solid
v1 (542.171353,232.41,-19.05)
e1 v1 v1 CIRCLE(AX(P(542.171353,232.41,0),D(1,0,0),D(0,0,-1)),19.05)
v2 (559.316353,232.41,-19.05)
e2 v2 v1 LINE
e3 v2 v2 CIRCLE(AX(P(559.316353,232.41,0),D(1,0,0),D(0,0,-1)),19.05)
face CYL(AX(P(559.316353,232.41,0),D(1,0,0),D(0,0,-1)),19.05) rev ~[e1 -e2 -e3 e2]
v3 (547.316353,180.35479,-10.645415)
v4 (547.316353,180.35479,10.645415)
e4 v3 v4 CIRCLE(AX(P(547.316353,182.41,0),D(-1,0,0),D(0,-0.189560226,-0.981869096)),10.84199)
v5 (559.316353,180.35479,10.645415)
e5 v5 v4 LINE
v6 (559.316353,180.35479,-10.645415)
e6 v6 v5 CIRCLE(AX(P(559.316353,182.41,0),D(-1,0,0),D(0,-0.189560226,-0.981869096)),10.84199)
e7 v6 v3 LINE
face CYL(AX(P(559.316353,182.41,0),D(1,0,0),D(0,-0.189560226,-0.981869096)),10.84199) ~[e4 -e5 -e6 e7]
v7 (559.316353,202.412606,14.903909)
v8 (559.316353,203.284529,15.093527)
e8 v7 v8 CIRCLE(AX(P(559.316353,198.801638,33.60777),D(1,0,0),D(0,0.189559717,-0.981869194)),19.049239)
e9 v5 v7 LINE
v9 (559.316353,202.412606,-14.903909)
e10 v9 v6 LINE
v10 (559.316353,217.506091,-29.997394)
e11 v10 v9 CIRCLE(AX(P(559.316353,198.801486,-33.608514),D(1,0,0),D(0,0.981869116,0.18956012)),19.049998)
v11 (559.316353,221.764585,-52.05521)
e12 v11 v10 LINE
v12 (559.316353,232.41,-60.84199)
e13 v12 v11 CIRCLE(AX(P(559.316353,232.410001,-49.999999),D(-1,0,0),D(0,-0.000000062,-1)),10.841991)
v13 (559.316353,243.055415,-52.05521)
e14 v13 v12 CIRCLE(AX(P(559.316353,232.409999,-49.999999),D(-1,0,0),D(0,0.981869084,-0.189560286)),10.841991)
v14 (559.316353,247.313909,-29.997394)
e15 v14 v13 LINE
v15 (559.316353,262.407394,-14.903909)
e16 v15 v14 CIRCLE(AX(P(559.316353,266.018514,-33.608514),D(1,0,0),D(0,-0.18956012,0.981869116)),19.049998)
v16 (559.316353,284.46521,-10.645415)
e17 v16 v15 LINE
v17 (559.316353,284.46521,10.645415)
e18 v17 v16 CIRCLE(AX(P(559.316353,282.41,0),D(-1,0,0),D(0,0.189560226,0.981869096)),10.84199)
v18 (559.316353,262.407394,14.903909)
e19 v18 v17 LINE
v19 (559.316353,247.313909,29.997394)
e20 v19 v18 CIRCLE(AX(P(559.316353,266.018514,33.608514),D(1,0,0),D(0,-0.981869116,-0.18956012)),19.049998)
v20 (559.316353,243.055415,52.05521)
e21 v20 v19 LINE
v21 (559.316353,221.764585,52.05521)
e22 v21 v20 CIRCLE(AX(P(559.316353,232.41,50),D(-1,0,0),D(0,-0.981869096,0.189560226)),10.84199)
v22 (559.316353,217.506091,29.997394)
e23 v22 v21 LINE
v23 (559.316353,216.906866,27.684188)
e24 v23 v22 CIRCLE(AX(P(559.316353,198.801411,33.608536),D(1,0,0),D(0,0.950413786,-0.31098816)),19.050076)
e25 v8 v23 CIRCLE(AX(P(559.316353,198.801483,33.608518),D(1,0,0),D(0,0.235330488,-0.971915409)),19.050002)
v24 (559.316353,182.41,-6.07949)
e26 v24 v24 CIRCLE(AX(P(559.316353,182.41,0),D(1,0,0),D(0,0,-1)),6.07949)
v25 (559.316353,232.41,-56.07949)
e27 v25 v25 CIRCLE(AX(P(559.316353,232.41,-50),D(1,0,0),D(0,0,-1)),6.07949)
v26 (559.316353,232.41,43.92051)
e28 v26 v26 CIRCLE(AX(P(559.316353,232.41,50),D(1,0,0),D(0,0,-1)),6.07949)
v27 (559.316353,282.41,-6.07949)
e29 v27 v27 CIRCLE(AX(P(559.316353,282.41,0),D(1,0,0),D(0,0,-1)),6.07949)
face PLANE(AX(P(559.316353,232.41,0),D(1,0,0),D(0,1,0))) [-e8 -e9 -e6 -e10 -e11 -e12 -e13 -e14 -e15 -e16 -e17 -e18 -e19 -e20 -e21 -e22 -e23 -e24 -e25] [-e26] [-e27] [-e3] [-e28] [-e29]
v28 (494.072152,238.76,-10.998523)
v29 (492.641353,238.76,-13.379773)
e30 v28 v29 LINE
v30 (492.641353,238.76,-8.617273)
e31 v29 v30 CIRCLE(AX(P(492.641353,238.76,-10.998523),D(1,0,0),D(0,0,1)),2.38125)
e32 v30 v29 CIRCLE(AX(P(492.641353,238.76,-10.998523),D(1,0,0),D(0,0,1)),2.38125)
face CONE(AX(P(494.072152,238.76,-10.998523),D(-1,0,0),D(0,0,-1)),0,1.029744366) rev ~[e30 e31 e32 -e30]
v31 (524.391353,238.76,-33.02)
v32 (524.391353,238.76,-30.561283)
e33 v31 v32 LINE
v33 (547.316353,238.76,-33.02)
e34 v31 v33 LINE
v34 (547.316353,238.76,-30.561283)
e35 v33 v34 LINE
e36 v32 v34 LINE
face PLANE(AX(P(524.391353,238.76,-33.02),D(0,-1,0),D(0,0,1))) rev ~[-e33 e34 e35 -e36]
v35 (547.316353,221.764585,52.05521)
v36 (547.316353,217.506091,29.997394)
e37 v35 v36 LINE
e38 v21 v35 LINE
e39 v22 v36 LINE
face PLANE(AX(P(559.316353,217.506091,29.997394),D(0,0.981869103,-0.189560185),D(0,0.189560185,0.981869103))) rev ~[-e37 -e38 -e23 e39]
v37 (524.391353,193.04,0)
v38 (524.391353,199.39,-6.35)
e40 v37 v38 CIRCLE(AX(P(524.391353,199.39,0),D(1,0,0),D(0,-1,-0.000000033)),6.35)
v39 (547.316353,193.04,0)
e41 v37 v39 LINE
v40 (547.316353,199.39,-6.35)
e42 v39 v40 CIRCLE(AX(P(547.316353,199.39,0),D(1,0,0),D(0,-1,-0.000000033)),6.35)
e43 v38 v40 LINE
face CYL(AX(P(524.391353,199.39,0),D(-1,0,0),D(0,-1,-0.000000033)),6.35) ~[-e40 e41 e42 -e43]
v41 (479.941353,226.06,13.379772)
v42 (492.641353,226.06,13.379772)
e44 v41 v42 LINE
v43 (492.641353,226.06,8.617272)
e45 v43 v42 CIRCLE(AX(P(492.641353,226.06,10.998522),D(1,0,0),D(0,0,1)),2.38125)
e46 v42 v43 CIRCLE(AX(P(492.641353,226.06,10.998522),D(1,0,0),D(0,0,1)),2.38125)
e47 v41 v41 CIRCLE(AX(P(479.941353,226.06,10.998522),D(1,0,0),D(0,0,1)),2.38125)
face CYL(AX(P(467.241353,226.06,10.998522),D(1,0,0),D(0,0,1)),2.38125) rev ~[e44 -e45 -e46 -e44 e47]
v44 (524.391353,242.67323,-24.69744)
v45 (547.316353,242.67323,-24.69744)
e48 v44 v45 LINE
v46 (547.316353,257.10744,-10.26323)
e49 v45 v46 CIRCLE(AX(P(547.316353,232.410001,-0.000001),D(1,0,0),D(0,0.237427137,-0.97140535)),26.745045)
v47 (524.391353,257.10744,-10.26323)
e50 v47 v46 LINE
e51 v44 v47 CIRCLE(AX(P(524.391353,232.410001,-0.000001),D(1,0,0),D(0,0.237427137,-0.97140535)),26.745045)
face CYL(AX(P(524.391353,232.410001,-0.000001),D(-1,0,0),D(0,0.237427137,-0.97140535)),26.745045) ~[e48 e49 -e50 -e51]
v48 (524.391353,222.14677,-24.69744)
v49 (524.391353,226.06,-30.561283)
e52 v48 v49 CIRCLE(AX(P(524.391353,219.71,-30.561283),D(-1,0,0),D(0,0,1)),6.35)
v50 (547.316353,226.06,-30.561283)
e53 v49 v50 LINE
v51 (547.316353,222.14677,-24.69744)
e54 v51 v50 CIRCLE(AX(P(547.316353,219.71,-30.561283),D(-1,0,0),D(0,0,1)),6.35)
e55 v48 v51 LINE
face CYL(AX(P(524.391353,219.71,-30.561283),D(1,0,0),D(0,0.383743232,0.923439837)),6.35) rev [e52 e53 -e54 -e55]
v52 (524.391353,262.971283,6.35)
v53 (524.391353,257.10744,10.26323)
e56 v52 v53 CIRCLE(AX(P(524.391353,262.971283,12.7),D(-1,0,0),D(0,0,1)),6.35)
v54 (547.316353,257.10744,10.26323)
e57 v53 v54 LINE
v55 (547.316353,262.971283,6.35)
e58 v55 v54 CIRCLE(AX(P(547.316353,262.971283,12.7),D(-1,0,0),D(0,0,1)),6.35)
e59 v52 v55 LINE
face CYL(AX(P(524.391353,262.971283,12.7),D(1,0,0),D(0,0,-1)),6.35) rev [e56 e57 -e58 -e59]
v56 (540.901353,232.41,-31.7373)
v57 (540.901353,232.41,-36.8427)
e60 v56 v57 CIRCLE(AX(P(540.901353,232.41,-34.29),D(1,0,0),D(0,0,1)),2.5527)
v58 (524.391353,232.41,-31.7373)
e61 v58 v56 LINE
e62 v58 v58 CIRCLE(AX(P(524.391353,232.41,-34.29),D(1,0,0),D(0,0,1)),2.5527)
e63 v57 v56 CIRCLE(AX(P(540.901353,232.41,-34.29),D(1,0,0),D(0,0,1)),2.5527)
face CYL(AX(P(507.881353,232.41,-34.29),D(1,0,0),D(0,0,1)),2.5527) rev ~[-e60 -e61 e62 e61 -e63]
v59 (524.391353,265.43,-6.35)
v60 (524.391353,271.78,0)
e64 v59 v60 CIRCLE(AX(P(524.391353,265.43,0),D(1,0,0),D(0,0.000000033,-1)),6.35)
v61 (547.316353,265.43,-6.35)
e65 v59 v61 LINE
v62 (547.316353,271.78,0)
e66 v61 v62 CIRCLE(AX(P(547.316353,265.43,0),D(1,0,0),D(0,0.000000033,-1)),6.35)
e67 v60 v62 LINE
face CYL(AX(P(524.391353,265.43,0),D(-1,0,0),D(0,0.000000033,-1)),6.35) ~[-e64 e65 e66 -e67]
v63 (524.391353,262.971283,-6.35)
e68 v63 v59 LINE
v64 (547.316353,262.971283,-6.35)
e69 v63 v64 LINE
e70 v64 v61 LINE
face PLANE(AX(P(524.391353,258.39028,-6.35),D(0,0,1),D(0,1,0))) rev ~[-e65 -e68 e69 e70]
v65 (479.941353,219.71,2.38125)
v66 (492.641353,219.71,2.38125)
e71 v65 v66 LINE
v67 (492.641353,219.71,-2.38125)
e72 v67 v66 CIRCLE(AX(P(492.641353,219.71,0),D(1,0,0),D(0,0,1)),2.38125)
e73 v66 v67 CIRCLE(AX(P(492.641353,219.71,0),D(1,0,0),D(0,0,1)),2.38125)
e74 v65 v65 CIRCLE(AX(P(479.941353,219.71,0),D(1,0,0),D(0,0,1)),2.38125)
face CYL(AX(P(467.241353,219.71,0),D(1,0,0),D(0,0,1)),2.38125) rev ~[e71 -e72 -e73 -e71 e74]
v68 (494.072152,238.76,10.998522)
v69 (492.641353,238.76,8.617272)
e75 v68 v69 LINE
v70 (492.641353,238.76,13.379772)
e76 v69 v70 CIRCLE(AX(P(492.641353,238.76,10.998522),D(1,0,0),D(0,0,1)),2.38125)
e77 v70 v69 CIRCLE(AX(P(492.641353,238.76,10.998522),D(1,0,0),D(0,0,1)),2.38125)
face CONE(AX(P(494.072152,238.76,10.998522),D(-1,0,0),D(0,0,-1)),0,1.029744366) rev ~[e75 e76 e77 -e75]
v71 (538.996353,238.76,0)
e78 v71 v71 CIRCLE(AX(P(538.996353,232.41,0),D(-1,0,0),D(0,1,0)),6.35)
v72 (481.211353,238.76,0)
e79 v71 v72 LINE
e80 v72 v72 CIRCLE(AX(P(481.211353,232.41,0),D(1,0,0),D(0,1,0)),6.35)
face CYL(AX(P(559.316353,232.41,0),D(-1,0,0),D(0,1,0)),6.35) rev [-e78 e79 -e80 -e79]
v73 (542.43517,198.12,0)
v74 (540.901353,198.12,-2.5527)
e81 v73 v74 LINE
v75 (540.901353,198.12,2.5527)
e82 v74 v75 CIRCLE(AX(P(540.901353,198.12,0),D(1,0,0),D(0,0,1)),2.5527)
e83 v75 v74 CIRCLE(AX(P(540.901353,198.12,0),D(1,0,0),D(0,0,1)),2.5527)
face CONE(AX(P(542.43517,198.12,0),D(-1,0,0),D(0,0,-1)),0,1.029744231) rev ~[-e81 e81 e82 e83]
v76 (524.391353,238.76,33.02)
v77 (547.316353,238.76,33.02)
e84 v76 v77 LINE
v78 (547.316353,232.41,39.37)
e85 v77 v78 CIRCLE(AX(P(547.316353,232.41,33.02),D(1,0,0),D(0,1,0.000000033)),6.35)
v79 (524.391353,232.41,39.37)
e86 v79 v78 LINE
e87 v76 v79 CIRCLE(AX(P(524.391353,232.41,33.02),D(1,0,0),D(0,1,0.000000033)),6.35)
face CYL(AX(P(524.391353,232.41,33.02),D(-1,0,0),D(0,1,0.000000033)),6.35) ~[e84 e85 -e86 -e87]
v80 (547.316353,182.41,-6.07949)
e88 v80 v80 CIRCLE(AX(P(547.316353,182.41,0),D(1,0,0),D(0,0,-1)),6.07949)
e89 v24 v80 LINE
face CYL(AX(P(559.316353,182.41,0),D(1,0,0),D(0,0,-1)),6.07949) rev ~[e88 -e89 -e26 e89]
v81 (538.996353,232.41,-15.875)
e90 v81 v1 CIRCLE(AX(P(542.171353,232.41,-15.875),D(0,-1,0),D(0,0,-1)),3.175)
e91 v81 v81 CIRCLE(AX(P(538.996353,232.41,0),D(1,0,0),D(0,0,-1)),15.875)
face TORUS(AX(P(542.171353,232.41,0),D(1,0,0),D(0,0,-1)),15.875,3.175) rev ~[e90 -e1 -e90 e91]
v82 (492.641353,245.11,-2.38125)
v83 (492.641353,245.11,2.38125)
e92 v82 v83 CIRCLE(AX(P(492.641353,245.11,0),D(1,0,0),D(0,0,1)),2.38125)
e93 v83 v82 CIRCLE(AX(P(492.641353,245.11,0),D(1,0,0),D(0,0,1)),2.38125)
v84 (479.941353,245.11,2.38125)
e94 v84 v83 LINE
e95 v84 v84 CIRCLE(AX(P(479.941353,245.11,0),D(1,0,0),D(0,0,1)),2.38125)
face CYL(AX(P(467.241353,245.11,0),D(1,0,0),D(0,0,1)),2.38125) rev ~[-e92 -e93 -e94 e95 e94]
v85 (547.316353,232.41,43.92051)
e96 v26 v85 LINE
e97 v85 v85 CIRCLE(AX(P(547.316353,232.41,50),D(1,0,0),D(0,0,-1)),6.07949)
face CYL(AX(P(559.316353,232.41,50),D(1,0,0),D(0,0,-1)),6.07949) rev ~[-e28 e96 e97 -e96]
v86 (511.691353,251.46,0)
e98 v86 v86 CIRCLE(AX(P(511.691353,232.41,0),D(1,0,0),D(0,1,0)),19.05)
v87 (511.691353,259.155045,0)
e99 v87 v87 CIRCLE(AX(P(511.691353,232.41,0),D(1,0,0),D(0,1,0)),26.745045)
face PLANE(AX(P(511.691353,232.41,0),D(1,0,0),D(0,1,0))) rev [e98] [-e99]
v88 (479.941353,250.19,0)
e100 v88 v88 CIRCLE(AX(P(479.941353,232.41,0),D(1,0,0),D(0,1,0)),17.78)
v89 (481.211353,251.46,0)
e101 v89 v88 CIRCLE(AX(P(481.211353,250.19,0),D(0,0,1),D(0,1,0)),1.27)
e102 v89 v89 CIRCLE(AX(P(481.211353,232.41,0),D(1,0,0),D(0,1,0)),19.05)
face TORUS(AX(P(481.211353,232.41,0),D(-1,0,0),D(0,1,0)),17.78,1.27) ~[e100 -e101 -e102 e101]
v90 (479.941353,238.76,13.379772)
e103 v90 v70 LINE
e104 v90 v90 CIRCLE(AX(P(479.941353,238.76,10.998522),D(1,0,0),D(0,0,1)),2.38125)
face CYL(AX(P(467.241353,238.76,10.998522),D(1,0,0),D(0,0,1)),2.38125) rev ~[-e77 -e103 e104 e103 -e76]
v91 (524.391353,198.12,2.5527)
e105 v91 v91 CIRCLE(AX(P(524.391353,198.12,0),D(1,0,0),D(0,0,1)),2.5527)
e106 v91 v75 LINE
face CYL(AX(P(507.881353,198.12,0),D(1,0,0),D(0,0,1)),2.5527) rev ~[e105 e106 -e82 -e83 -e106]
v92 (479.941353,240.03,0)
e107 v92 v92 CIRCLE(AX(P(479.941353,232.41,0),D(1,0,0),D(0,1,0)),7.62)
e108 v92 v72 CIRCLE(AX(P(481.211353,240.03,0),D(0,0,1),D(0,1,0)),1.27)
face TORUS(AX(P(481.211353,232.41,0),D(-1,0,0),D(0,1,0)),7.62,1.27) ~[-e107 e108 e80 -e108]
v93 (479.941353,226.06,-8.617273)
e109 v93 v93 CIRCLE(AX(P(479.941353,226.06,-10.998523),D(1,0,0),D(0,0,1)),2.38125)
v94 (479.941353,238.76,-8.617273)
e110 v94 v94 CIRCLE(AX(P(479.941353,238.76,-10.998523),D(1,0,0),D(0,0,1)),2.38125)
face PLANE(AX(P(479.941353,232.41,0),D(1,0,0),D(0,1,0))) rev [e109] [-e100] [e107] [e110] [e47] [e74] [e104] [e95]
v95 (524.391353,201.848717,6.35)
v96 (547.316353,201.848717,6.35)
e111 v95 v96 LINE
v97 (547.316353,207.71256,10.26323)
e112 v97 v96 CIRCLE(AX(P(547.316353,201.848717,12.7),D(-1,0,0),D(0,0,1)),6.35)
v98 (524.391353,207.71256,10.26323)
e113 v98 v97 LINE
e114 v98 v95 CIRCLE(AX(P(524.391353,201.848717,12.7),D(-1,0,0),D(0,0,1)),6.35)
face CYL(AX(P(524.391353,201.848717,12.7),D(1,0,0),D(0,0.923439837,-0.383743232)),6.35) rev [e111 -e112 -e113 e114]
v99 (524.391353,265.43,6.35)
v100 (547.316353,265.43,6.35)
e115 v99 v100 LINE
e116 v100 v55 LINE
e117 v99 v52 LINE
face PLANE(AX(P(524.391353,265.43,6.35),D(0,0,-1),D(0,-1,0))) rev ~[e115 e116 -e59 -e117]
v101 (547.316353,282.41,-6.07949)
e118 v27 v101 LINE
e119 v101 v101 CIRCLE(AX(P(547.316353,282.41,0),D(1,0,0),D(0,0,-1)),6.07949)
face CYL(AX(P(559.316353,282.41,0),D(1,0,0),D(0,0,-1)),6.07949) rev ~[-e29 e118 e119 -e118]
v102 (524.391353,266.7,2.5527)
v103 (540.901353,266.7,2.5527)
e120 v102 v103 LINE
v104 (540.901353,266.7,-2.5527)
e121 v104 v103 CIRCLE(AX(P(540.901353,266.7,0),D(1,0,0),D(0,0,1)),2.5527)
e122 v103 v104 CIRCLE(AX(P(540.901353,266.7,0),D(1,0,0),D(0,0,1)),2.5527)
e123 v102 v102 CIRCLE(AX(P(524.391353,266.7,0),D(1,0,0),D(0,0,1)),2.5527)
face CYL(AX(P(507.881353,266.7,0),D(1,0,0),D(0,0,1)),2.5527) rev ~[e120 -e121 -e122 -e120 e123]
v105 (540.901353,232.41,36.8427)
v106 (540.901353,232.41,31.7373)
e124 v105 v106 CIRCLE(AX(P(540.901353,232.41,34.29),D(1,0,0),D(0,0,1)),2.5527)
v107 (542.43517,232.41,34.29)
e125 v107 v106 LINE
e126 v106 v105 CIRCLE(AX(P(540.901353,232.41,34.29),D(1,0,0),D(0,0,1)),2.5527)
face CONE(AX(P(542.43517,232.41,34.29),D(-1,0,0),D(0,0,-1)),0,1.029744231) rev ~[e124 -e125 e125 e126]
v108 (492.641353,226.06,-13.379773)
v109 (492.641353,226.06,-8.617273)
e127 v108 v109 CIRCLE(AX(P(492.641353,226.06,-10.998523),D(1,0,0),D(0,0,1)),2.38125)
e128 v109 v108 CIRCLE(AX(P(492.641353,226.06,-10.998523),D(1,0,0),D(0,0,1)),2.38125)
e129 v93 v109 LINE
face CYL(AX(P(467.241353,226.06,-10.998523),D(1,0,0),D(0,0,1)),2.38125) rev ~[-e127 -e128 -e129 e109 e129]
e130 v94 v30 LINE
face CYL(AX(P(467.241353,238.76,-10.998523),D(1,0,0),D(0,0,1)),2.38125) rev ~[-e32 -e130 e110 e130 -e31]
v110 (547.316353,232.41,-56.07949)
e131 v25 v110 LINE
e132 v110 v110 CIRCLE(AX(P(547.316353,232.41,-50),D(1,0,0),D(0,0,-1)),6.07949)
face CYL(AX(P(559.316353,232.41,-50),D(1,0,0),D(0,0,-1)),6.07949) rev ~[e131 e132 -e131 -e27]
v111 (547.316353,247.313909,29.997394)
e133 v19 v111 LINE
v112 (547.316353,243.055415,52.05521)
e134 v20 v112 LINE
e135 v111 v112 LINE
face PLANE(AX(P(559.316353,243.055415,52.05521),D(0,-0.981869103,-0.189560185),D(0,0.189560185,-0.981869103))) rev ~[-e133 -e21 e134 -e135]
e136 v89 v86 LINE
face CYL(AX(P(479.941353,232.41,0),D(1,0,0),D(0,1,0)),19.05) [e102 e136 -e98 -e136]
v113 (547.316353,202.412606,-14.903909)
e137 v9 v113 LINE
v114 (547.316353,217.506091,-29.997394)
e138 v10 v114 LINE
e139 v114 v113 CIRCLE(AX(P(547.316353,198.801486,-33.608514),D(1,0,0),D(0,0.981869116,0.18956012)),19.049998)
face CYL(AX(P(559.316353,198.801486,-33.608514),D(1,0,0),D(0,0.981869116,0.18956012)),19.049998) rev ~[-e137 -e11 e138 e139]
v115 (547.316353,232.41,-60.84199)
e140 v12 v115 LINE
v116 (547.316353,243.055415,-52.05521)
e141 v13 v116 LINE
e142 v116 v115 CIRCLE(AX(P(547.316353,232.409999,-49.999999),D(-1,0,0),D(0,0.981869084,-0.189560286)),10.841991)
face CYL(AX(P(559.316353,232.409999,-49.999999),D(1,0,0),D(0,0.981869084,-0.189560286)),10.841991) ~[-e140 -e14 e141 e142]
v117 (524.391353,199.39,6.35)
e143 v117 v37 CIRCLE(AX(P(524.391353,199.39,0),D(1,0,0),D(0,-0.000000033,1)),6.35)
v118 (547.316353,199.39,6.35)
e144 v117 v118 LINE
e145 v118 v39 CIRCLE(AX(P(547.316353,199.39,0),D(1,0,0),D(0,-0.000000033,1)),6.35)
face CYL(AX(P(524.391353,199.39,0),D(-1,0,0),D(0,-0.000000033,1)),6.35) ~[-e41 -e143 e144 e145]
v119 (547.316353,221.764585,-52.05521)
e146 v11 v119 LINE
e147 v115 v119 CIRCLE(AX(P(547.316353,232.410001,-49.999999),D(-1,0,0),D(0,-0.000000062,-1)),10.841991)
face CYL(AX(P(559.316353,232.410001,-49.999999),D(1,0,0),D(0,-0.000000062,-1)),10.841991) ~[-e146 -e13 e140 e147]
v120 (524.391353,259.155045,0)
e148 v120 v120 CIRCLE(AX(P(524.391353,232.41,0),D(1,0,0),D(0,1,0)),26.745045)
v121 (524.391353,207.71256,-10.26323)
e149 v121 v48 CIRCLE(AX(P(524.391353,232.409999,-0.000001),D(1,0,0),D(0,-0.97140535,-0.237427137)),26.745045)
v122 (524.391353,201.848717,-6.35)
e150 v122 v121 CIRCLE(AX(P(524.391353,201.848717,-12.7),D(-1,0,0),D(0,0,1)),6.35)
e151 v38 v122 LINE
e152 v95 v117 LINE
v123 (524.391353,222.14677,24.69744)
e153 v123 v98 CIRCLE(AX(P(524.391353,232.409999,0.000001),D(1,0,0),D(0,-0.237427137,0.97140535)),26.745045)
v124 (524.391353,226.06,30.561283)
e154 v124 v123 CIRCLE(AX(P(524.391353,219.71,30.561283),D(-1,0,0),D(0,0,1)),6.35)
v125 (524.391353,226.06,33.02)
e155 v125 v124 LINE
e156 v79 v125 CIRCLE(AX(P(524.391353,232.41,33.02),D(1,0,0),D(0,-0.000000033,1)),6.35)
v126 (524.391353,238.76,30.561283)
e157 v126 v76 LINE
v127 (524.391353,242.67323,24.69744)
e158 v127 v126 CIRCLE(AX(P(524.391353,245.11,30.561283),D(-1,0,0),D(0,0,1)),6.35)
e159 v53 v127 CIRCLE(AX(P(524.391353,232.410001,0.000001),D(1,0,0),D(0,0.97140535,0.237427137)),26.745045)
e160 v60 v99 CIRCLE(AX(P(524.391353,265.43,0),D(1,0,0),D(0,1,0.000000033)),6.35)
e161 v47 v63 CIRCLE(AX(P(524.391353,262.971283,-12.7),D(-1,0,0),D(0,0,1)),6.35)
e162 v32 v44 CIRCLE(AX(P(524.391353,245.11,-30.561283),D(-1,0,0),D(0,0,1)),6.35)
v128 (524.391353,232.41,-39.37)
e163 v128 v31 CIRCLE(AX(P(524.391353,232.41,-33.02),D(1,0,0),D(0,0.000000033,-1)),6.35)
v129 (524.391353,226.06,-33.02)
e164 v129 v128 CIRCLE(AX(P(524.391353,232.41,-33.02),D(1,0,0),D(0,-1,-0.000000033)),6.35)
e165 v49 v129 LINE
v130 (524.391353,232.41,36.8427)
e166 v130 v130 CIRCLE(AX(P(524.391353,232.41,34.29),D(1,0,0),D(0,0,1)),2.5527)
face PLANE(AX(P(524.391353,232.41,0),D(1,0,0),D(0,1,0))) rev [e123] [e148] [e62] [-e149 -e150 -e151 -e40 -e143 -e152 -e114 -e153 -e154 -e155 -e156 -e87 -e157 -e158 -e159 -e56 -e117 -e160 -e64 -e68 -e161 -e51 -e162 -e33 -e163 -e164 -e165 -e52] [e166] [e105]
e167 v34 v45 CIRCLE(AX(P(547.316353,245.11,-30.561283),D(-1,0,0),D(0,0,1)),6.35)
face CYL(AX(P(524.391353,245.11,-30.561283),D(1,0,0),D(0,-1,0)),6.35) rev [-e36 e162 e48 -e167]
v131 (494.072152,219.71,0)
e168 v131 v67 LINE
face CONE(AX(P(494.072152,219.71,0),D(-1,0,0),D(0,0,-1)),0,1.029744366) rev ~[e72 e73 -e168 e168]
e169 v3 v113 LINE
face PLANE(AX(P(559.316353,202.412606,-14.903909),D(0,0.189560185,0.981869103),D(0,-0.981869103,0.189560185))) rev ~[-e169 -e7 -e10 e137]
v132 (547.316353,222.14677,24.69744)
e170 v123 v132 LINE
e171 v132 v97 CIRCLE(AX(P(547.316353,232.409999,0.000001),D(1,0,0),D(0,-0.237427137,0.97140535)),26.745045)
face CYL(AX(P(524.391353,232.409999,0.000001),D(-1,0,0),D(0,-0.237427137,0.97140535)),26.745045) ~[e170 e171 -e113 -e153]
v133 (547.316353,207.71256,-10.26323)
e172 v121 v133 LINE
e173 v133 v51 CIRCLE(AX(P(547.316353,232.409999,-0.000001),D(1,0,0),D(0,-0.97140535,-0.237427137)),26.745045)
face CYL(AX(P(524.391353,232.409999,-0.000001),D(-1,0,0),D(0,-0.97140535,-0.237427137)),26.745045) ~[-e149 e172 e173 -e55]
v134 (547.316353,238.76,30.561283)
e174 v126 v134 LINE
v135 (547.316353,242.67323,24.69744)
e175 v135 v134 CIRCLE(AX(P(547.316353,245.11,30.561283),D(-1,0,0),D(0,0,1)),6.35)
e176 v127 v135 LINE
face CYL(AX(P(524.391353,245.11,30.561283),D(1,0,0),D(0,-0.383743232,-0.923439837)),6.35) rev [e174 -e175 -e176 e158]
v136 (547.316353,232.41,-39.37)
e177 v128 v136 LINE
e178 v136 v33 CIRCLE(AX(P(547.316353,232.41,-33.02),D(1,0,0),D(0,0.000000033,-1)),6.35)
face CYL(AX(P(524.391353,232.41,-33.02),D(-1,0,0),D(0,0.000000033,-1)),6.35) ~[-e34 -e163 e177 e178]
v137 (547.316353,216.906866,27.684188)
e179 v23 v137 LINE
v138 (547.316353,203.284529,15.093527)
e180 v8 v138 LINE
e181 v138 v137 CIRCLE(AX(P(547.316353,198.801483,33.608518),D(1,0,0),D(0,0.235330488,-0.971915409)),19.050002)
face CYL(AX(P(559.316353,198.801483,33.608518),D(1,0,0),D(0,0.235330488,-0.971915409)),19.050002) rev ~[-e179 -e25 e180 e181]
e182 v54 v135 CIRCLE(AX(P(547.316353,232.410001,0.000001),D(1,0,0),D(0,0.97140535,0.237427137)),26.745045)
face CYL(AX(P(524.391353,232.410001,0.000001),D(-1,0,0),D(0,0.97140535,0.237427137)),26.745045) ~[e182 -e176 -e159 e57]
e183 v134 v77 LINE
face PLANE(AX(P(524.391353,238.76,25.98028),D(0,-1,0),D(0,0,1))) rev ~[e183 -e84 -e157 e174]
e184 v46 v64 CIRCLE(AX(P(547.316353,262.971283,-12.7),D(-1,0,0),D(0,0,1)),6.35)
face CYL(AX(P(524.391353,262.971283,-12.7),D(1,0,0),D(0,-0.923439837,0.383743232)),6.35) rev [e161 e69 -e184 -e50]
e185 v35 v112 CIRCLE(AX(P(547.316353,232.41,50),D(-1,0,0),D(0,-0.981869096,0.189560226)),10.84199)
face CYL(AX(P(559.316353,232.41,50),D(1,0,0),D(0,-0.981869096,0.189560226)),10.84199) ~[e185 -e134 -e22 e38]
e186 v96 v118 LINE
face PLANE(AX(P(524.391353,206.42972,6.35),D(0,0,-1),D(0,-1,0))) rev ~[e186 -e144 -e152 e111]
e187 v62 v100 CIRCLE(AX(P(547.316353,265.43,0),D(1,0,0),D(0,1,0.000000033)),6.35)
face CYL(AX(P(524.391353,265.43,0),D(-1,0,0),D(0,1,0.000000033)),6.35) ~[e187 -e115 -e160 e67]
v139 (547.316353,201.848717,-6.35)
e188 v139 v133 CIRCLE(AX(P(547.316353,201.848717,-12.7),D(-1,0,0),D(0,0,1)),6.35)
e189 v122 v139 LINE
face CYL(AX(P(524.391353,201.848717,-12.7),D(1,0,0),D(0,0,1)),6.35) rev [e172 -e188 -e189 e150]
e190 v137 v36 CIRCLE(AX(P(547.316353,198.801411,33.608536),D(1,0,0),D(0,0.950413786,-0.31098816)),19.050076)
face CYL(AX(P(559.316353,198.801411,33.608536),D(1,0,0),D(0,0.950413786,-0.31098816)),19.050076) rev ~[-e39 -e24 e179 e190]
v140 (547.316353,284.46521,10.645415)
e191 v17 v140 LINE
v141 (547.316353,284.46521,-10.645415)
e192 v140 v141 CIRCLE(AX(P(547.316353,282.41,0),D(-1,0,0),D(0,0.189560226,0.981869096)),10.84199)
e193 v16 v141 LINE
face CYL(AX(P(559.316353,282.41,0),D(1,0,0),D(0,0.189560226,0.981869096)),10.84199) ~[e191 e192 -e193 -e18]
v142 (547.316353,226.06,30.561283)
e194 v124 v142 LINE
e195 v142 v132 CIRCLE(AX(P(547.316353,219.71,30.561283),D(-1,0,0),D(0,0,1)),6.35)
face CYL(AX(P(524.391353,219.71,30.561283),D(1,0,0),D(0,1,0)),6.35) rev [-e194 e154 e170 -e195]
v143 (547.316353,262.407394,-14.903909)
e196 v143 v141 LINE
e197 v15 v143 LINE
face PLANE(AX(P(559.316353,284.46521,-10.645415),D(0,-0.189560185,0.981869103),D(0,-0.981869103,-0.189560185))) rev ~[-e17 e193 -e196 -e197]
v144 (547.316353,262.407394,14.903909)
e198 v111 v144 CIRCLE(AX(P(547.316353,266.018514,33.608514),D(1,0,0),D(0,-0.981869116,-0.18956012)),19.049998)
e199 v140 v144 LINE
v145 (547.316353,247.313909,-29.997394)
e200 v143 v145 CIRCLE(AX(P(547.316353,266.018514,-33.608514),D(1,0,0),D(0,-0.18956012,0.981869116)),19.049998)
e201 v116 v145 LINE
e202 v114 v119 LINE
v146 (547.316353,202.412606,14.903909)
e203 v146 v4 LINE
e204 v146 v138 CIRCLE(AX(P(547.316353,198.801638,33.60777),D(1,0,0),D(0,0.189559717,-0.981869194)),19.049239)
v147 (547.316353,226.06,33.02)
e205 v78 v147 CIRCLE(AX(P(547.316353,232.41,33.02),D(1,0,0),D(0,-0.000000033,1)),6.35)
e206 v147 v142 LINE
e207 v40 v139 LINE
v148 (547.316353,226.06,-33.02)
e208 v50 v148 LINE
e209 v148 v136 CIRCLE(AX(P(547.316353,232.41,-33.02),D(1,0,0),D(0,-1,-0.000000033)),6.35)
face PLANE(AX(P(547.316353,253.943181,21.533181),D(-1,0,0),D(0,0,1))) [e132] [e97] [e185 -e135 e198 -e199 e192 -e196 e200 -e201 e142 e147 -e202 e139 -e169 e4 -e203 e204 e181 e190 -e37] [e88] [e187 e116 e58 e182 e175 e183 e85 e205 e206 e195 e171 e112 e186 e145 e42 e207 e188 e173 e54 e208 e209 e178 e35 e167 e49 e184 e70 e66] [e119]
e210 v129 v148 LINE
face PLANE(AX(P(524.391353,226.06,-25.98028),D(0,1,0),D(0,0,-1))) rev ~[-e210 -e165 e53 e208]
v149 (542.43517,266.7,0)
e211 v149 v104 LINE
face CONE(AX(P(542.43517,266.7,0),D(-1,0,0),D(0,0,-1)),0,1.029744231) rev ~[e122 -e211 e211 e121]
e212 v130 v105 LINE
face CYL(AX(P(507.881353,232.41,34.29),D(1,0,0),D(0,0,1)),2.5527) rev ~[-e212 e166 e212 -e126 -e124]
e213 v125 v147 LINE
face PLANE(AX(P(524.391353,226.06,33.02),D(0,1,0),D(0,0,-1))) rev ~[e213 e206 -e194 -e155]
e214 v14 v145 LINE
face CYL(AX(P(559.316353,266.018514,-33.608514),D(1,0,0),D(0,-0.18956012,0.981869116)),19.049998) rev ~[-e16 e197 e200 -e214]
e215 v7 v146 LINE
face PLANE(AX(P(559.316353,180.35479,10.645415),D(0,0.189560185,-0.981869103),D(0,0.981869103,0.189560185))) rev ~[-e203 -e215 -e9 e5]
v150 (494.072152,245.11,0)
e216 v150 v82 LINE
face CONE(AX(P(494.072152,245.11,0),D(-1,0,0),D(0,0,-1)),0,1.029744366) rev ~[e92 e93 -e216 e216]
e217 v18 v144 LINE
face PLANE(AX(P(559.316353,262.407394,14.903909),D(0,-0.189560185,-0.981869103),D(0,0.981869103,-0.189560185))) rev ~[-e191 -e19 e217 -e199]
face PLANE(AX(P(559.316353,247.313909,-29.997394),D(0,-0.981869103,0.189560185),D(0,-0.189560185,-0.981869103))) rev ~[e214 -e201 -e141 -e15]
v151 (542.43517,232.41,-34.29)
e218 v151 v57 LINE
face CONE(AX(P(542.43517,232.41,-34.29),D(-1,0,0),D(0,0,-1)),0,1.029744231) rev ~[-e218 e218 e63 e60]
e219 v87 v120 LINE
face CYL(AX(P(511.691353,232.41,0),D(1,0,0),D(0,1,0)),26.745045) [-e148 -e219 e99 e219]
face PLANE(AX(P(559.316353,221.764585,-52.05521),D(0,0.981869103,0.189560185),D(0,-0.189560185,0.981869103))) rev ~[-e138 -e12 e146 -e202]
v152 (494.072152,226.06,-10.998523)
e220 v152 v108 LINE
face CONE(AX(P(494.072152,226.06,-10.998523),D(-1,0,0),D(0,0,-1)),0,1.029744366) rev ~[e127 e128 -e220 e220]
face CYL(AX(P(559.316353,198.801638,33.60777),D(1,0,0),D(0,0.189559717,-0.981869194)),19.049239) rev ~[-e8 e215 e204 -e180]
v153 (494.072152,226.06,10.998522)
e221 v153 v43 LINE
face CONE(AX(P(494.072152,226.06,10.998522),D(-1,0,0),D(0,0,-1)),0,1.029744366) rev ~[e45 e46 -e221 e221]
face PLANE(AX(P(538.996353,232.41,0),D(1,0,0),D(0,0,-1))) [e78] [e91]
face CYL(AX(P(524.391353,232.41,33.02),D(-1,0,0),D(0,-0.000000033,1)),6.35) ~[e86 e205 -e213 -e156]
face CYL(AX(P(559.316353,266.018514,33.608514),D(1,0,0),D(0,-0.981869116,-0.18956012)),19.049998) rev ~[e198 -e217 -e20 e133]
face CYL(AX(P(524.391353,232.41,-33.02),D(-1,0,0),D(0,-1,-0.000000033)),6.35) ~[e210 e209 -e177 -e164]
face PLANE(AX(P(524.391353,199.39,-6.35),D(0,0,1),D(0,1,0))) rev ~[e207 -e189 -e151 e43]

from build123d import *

# Parameters (mm, degrees)
SKETCH2_R                       = 61.1125
SKETCH2_R_2                     = 6.07949
CUT_EXTRUDE1_DEPTH              = 12
F_3_16_0_1875_DOWEL_HOLE1_D     = 4.7625
F_3_16_0_1875_DOWEL_HOLE1_DEPTH = 12.7
F_3_16_0_1875_DOWEL_HOLE1_TIP   = 1.430799
CUT_EXTRUDE3_DEPTH              = 22.925
SKETCH6_R                       = 19.05
CUT_EXTRUDE4_DEPTH              = 20.32
FILLET8_R                       = 6.35
FILLET7_R                       = 1.27
FILLET9_R                       = 3.175
F_1_4_20_TAPPED_HOLE1_D         = 5.1054
F_1_4_20_TAPPED_HOLE1_DEPTH     = 16.51
F_1_4_20_TAPPED_HOLE1_TIP       = 1.533817


with BuildPart() as part:
    # Sketch1 → Revolve1 (revolve)
    with BuildSketch(Plane.XY):
        Polygon((479.941353, 251.46), (511.691353, 251.46), (511.691353, 259.155045), (524.391353, 259.155045), (524.391353, 271.78), (547.316353, 271.78), (547.316353, 293.5225), (559.316353, 293.5225), (559.316353, 238.76), (479.941353, 238.76), align=None)
    revolve(axis=Axis((439.541353, 232.41, 0), (1, 0, 0)))

    # Sketch2 → Cut-Extrude1 (cut)
    with BuildSketch(Plane(origin=(559.316353, 0, 0), x_dir=(0, 0, -1), z_dir=(1, 0, 0))):
        with Locations((0, 232.41)):
            Circle(SKETCH2_R)
        with BuildLine():
            ThreePointArc((-10.645415, 284.46521), (0, 293.25199), (10.645415, 284.46521))
            Line((10.645415, 284.46521), (14.903909, 262.407394))
            ThreePointArc((14.903909, 262.407394), (20.138131, 252.548131), (29.997394, 247.313909))
            Line((29.997394, 247.313909), (52.05521, 243.055415))
            ThreePointArc((52.05521, 243.055415), (58.361558, 239.311673), (60.84199, 232.41))
            ThreePointArc((60.84199, 232.41), (58.361558, 225.508327), (52.05521, 221.764585))
            Line((52.05521, 221.764585), (29.997394, 217.506091))
            ThreePointArc((29.997394, 217.506091), (20.138131, 212.271869), (14.903909, 202.412606))
            Line((14.903909, 202.412606), (10.645415, 180.35479))
            ThreePointArc((10.645415, 180.35479), (0, 171.56801), (-10.645415, 180.35479))
            Line((-10.645415, 180.35479), (-14.903909, 202.412606))
            ThreePointArc((-14.903909, 202.412606), (-14.993612, 202.849678), (-15.093527, 203.284529))
            ThreePointArc((-15.093527, 203.284529), (-19.618803, 211.731698), (-27.684188, 216.906866))
            ThreePointArc((-27.684188, 216.906866), (-28.831386, 217.242784), (-29.997394, 217.506091))
            Line((-29.997394, 217.506091), (-52.05521, 221.764585))
            ThreePointArc((-52.05521, 221.764585), (-60.84199, 232.41), (-52.05521, 243.055415))
            Line((-52.05521, 243.055415), (-29.997394, 247.313909))
            ThreePointArc((-29.997394, 247.313909), (-20.138131, 252.548131), (-14.903909, 262.407394))
            Line((-14.903909, 262.407394), (-10.645415, 284.46521))
        make_face(mode=Mode.SUBTRACT)
        with Locations((-50, 232.41)):
            Circle(SKETCH2_R_2)
        with Locations((0, 182.41)):
            Circle(SKETCH2_R_2)
        with Locations((50, 232.41)):
            Circle(SKETCH2_R_2)
        with Locations((0, 282.41)):
            Circle(SKETCH2_R_2)
    extrude(amount=-CUT_EXTRUDE1_DEPTH, mode=Mode.SUBTRACT)

    # 3/16 (0.1875) Dowel Hole1
    with Locations(Plane(origin=(479.941353, 238.76, -10.998523), x_dir=(0, 0, -1), z_dir=(-1, 0, 0))):
        with Locations((0, 0), (-10.998523, -6.35), (-21.997045, 0), (-21.997045, 12.7), (-10.998523, 19.05), (0, 12.7)):
            Hole(F_3_16_0_1875_DOWEL_HOLE1_D / 2, depth=F_3_16_0_1875_DOWEL_HOLE1_DEPTH)
            with Locations((0, 0, -(F_3_16_0_1875_DOWEL_HOLE1_DEPTH + F_3_16_0_1875_DOWEL_HOLE1_TIP / 2))):  # 118° drill point
                Cone(0, F_3_16_0_1875_DOWEL_HOLE1_D / 2, F_3_16_0_1875_DOWEL_HOLE1_TIP, mode=Mode.SUBTRACT)

    # Sketch5 → Cut-Extrude3 (cut)
    with BuildSketch(Plane.ZY.offset(-524.391353)):
        with BuildLine():
            ThreePointArc((-33.02, 226.06), (-37.510128, 227.919872), (-39.37, 232.41))
            ThreePointArc((-39.37, 232.41), (-27.838794, 204.571206), (0, 193.04))
            ThreePointArc((0, 193.04), (-4.490128, 194.899872), (-6.35, 199.39))
            Line((-6.35, 199.39), (-6.35, 206.42972))
            ThreePointArc((-6.35, 206.42972), (-18.911603, 213.498397), (-25.98028, 226.06))
            Line((-25.98028, 226.06), (-33.02, 226.06))
        make_face()
        with BuildLine():
            Line((-6.35, 258.39028), (-6.35, 265.43))
            ThreePointArc((-6.35, 265.43), (-4.490128, 269.920128), (0, 271.78))
            ThreePointArc((0, 271.78), (-27.838794, 260.248794), (-39.37, 232.41))
            ThreePointArc((-39.37, 232.41), (-37.510128, 236.900128), (-33.02, 238.76))
            Line((-33.02, 238.76), (-25.98028, 238.76))
            ThreePointArc((-25.98028, 238.76), (-18.911603, 251.321603), (-6.35, 258.39028))
        make_face()
        with BuildLine():
            ThreePointArc((39.37, 232.41), (27.838794, 260.248794), (0, 271.78))
            ThreePointArc((0, 271.78), (4.490128, 269.920128), (6.35, 265.43))
            Line((6.35, 265.43), (6.35, 258.39028))
            ThreePointArc((6.35, 258.39028), (18.911603, 251.321603), (25.98028, 238.76))
            Line((25.98028, 238.76), (33.02, 238.76))
            ThreePointArc((33.02, 238.76), (37.510128, 236.900128), (39.37, 232.41))
        make_face()
        with BuildLine():
            ThreePointArc((0, 193.04), (27.838794, 204.571206), (39.37, 232.41))
            ThreePointArc((39.37, 232.41), (37.510128, 227.919872), (33.02, 226.06))
            Line((33.02, 226.06), (25.98028, 226.06))
            ThreePointArc((25.98028, 226.06), (18.911603, 213.498397), (6.35, 206.42972))
            Line((6.35, 206.42972), (6.35, 199.39))
            ThreePointArc((6.35, 199.39), (4.490128, 194.899872), (0, 193.04))
        make_face()
    extrude(amount=-CUT_EXTRUDE3_DEPTH, mode=Mode.SUBTRACT)

    # Sketch6 → Cut-Extrude4 (cut)
    with BuildSketch(Plane(origin=(559.316353, 0, 0), x_dir=(0, 0, -1), z_dir=(1, 0, 0))):
        with Locations((0, 232.41)):
            Circle(SKETCH6_R)
    extrude(amount=-CUT_EXTRUDE4_DEPTH, mode=Mode.SUBTRACT)

    # Fillet8
    fillet8_edges = [part.edges().sort_by_distance(p)[0] for p in [
        (535.853853, 226.06, -25.98028),
        (535.853853, 206.42972, -6.35),
        (535.853853, 258.39028, -6.35),
        (535.853853, 238.76, -25.98028),
        (535.853853, 238.76, 25.98028),
        (535.853853, 258.39028, 6.35),
        (535.853853, 206.42972, 6.35),
        (535.853853, 226.06, 25.98028),
    ]]
    fillet(fillet8_edges, radius=FILLET8_R)

    # Fillet7
    fillet7_edges = [part.edges().sort_by_distance(p)[0] for p in [
        (479.941353, 226.06, 0),
        (479.941353, 213.36, 0),
    ]]
    fillet(fillet7_edges, radius=FILLET7_R)

    # Fillet9
    fillet9_edges = [part.edges().sort_by_distance(p)[0] for p in [
        (538.996353, 232.41, 19.05),
    ]]
    fillet(fillet9_edges, radius=FILLET9_R)

    # 1/4-20 Tapped Hole1
    with Locations(Plane(origin=(524.391353, 232.41, -34.29), x_dir=(0, 0, -1), z_dir=(-1, 0, 0))):
        with Locations((0, 0), (-34.29, -34.29), (-68.58, 0), (-34.29, 34.29)):
            Hole(F_1_4_20_TAPPED_HOLE1_D / 2, depth=F_1_4_20_TAPPED_HOLE1_DEPTH)
            with Locations((0, 0, -(F_1_4_20_TAPPED_HOLE1_DEPTH + F_1_4_20_TAPPED_HOLE1_TIP / 2))):  # 118° drill point
                Cone(0, F_1_4_20_TAPPED_HOLE1_D / 2, F_1_4_20_TAPPED_HOLE1_TIP, mode=Mode.SUBTRACT)


solid = part.part
